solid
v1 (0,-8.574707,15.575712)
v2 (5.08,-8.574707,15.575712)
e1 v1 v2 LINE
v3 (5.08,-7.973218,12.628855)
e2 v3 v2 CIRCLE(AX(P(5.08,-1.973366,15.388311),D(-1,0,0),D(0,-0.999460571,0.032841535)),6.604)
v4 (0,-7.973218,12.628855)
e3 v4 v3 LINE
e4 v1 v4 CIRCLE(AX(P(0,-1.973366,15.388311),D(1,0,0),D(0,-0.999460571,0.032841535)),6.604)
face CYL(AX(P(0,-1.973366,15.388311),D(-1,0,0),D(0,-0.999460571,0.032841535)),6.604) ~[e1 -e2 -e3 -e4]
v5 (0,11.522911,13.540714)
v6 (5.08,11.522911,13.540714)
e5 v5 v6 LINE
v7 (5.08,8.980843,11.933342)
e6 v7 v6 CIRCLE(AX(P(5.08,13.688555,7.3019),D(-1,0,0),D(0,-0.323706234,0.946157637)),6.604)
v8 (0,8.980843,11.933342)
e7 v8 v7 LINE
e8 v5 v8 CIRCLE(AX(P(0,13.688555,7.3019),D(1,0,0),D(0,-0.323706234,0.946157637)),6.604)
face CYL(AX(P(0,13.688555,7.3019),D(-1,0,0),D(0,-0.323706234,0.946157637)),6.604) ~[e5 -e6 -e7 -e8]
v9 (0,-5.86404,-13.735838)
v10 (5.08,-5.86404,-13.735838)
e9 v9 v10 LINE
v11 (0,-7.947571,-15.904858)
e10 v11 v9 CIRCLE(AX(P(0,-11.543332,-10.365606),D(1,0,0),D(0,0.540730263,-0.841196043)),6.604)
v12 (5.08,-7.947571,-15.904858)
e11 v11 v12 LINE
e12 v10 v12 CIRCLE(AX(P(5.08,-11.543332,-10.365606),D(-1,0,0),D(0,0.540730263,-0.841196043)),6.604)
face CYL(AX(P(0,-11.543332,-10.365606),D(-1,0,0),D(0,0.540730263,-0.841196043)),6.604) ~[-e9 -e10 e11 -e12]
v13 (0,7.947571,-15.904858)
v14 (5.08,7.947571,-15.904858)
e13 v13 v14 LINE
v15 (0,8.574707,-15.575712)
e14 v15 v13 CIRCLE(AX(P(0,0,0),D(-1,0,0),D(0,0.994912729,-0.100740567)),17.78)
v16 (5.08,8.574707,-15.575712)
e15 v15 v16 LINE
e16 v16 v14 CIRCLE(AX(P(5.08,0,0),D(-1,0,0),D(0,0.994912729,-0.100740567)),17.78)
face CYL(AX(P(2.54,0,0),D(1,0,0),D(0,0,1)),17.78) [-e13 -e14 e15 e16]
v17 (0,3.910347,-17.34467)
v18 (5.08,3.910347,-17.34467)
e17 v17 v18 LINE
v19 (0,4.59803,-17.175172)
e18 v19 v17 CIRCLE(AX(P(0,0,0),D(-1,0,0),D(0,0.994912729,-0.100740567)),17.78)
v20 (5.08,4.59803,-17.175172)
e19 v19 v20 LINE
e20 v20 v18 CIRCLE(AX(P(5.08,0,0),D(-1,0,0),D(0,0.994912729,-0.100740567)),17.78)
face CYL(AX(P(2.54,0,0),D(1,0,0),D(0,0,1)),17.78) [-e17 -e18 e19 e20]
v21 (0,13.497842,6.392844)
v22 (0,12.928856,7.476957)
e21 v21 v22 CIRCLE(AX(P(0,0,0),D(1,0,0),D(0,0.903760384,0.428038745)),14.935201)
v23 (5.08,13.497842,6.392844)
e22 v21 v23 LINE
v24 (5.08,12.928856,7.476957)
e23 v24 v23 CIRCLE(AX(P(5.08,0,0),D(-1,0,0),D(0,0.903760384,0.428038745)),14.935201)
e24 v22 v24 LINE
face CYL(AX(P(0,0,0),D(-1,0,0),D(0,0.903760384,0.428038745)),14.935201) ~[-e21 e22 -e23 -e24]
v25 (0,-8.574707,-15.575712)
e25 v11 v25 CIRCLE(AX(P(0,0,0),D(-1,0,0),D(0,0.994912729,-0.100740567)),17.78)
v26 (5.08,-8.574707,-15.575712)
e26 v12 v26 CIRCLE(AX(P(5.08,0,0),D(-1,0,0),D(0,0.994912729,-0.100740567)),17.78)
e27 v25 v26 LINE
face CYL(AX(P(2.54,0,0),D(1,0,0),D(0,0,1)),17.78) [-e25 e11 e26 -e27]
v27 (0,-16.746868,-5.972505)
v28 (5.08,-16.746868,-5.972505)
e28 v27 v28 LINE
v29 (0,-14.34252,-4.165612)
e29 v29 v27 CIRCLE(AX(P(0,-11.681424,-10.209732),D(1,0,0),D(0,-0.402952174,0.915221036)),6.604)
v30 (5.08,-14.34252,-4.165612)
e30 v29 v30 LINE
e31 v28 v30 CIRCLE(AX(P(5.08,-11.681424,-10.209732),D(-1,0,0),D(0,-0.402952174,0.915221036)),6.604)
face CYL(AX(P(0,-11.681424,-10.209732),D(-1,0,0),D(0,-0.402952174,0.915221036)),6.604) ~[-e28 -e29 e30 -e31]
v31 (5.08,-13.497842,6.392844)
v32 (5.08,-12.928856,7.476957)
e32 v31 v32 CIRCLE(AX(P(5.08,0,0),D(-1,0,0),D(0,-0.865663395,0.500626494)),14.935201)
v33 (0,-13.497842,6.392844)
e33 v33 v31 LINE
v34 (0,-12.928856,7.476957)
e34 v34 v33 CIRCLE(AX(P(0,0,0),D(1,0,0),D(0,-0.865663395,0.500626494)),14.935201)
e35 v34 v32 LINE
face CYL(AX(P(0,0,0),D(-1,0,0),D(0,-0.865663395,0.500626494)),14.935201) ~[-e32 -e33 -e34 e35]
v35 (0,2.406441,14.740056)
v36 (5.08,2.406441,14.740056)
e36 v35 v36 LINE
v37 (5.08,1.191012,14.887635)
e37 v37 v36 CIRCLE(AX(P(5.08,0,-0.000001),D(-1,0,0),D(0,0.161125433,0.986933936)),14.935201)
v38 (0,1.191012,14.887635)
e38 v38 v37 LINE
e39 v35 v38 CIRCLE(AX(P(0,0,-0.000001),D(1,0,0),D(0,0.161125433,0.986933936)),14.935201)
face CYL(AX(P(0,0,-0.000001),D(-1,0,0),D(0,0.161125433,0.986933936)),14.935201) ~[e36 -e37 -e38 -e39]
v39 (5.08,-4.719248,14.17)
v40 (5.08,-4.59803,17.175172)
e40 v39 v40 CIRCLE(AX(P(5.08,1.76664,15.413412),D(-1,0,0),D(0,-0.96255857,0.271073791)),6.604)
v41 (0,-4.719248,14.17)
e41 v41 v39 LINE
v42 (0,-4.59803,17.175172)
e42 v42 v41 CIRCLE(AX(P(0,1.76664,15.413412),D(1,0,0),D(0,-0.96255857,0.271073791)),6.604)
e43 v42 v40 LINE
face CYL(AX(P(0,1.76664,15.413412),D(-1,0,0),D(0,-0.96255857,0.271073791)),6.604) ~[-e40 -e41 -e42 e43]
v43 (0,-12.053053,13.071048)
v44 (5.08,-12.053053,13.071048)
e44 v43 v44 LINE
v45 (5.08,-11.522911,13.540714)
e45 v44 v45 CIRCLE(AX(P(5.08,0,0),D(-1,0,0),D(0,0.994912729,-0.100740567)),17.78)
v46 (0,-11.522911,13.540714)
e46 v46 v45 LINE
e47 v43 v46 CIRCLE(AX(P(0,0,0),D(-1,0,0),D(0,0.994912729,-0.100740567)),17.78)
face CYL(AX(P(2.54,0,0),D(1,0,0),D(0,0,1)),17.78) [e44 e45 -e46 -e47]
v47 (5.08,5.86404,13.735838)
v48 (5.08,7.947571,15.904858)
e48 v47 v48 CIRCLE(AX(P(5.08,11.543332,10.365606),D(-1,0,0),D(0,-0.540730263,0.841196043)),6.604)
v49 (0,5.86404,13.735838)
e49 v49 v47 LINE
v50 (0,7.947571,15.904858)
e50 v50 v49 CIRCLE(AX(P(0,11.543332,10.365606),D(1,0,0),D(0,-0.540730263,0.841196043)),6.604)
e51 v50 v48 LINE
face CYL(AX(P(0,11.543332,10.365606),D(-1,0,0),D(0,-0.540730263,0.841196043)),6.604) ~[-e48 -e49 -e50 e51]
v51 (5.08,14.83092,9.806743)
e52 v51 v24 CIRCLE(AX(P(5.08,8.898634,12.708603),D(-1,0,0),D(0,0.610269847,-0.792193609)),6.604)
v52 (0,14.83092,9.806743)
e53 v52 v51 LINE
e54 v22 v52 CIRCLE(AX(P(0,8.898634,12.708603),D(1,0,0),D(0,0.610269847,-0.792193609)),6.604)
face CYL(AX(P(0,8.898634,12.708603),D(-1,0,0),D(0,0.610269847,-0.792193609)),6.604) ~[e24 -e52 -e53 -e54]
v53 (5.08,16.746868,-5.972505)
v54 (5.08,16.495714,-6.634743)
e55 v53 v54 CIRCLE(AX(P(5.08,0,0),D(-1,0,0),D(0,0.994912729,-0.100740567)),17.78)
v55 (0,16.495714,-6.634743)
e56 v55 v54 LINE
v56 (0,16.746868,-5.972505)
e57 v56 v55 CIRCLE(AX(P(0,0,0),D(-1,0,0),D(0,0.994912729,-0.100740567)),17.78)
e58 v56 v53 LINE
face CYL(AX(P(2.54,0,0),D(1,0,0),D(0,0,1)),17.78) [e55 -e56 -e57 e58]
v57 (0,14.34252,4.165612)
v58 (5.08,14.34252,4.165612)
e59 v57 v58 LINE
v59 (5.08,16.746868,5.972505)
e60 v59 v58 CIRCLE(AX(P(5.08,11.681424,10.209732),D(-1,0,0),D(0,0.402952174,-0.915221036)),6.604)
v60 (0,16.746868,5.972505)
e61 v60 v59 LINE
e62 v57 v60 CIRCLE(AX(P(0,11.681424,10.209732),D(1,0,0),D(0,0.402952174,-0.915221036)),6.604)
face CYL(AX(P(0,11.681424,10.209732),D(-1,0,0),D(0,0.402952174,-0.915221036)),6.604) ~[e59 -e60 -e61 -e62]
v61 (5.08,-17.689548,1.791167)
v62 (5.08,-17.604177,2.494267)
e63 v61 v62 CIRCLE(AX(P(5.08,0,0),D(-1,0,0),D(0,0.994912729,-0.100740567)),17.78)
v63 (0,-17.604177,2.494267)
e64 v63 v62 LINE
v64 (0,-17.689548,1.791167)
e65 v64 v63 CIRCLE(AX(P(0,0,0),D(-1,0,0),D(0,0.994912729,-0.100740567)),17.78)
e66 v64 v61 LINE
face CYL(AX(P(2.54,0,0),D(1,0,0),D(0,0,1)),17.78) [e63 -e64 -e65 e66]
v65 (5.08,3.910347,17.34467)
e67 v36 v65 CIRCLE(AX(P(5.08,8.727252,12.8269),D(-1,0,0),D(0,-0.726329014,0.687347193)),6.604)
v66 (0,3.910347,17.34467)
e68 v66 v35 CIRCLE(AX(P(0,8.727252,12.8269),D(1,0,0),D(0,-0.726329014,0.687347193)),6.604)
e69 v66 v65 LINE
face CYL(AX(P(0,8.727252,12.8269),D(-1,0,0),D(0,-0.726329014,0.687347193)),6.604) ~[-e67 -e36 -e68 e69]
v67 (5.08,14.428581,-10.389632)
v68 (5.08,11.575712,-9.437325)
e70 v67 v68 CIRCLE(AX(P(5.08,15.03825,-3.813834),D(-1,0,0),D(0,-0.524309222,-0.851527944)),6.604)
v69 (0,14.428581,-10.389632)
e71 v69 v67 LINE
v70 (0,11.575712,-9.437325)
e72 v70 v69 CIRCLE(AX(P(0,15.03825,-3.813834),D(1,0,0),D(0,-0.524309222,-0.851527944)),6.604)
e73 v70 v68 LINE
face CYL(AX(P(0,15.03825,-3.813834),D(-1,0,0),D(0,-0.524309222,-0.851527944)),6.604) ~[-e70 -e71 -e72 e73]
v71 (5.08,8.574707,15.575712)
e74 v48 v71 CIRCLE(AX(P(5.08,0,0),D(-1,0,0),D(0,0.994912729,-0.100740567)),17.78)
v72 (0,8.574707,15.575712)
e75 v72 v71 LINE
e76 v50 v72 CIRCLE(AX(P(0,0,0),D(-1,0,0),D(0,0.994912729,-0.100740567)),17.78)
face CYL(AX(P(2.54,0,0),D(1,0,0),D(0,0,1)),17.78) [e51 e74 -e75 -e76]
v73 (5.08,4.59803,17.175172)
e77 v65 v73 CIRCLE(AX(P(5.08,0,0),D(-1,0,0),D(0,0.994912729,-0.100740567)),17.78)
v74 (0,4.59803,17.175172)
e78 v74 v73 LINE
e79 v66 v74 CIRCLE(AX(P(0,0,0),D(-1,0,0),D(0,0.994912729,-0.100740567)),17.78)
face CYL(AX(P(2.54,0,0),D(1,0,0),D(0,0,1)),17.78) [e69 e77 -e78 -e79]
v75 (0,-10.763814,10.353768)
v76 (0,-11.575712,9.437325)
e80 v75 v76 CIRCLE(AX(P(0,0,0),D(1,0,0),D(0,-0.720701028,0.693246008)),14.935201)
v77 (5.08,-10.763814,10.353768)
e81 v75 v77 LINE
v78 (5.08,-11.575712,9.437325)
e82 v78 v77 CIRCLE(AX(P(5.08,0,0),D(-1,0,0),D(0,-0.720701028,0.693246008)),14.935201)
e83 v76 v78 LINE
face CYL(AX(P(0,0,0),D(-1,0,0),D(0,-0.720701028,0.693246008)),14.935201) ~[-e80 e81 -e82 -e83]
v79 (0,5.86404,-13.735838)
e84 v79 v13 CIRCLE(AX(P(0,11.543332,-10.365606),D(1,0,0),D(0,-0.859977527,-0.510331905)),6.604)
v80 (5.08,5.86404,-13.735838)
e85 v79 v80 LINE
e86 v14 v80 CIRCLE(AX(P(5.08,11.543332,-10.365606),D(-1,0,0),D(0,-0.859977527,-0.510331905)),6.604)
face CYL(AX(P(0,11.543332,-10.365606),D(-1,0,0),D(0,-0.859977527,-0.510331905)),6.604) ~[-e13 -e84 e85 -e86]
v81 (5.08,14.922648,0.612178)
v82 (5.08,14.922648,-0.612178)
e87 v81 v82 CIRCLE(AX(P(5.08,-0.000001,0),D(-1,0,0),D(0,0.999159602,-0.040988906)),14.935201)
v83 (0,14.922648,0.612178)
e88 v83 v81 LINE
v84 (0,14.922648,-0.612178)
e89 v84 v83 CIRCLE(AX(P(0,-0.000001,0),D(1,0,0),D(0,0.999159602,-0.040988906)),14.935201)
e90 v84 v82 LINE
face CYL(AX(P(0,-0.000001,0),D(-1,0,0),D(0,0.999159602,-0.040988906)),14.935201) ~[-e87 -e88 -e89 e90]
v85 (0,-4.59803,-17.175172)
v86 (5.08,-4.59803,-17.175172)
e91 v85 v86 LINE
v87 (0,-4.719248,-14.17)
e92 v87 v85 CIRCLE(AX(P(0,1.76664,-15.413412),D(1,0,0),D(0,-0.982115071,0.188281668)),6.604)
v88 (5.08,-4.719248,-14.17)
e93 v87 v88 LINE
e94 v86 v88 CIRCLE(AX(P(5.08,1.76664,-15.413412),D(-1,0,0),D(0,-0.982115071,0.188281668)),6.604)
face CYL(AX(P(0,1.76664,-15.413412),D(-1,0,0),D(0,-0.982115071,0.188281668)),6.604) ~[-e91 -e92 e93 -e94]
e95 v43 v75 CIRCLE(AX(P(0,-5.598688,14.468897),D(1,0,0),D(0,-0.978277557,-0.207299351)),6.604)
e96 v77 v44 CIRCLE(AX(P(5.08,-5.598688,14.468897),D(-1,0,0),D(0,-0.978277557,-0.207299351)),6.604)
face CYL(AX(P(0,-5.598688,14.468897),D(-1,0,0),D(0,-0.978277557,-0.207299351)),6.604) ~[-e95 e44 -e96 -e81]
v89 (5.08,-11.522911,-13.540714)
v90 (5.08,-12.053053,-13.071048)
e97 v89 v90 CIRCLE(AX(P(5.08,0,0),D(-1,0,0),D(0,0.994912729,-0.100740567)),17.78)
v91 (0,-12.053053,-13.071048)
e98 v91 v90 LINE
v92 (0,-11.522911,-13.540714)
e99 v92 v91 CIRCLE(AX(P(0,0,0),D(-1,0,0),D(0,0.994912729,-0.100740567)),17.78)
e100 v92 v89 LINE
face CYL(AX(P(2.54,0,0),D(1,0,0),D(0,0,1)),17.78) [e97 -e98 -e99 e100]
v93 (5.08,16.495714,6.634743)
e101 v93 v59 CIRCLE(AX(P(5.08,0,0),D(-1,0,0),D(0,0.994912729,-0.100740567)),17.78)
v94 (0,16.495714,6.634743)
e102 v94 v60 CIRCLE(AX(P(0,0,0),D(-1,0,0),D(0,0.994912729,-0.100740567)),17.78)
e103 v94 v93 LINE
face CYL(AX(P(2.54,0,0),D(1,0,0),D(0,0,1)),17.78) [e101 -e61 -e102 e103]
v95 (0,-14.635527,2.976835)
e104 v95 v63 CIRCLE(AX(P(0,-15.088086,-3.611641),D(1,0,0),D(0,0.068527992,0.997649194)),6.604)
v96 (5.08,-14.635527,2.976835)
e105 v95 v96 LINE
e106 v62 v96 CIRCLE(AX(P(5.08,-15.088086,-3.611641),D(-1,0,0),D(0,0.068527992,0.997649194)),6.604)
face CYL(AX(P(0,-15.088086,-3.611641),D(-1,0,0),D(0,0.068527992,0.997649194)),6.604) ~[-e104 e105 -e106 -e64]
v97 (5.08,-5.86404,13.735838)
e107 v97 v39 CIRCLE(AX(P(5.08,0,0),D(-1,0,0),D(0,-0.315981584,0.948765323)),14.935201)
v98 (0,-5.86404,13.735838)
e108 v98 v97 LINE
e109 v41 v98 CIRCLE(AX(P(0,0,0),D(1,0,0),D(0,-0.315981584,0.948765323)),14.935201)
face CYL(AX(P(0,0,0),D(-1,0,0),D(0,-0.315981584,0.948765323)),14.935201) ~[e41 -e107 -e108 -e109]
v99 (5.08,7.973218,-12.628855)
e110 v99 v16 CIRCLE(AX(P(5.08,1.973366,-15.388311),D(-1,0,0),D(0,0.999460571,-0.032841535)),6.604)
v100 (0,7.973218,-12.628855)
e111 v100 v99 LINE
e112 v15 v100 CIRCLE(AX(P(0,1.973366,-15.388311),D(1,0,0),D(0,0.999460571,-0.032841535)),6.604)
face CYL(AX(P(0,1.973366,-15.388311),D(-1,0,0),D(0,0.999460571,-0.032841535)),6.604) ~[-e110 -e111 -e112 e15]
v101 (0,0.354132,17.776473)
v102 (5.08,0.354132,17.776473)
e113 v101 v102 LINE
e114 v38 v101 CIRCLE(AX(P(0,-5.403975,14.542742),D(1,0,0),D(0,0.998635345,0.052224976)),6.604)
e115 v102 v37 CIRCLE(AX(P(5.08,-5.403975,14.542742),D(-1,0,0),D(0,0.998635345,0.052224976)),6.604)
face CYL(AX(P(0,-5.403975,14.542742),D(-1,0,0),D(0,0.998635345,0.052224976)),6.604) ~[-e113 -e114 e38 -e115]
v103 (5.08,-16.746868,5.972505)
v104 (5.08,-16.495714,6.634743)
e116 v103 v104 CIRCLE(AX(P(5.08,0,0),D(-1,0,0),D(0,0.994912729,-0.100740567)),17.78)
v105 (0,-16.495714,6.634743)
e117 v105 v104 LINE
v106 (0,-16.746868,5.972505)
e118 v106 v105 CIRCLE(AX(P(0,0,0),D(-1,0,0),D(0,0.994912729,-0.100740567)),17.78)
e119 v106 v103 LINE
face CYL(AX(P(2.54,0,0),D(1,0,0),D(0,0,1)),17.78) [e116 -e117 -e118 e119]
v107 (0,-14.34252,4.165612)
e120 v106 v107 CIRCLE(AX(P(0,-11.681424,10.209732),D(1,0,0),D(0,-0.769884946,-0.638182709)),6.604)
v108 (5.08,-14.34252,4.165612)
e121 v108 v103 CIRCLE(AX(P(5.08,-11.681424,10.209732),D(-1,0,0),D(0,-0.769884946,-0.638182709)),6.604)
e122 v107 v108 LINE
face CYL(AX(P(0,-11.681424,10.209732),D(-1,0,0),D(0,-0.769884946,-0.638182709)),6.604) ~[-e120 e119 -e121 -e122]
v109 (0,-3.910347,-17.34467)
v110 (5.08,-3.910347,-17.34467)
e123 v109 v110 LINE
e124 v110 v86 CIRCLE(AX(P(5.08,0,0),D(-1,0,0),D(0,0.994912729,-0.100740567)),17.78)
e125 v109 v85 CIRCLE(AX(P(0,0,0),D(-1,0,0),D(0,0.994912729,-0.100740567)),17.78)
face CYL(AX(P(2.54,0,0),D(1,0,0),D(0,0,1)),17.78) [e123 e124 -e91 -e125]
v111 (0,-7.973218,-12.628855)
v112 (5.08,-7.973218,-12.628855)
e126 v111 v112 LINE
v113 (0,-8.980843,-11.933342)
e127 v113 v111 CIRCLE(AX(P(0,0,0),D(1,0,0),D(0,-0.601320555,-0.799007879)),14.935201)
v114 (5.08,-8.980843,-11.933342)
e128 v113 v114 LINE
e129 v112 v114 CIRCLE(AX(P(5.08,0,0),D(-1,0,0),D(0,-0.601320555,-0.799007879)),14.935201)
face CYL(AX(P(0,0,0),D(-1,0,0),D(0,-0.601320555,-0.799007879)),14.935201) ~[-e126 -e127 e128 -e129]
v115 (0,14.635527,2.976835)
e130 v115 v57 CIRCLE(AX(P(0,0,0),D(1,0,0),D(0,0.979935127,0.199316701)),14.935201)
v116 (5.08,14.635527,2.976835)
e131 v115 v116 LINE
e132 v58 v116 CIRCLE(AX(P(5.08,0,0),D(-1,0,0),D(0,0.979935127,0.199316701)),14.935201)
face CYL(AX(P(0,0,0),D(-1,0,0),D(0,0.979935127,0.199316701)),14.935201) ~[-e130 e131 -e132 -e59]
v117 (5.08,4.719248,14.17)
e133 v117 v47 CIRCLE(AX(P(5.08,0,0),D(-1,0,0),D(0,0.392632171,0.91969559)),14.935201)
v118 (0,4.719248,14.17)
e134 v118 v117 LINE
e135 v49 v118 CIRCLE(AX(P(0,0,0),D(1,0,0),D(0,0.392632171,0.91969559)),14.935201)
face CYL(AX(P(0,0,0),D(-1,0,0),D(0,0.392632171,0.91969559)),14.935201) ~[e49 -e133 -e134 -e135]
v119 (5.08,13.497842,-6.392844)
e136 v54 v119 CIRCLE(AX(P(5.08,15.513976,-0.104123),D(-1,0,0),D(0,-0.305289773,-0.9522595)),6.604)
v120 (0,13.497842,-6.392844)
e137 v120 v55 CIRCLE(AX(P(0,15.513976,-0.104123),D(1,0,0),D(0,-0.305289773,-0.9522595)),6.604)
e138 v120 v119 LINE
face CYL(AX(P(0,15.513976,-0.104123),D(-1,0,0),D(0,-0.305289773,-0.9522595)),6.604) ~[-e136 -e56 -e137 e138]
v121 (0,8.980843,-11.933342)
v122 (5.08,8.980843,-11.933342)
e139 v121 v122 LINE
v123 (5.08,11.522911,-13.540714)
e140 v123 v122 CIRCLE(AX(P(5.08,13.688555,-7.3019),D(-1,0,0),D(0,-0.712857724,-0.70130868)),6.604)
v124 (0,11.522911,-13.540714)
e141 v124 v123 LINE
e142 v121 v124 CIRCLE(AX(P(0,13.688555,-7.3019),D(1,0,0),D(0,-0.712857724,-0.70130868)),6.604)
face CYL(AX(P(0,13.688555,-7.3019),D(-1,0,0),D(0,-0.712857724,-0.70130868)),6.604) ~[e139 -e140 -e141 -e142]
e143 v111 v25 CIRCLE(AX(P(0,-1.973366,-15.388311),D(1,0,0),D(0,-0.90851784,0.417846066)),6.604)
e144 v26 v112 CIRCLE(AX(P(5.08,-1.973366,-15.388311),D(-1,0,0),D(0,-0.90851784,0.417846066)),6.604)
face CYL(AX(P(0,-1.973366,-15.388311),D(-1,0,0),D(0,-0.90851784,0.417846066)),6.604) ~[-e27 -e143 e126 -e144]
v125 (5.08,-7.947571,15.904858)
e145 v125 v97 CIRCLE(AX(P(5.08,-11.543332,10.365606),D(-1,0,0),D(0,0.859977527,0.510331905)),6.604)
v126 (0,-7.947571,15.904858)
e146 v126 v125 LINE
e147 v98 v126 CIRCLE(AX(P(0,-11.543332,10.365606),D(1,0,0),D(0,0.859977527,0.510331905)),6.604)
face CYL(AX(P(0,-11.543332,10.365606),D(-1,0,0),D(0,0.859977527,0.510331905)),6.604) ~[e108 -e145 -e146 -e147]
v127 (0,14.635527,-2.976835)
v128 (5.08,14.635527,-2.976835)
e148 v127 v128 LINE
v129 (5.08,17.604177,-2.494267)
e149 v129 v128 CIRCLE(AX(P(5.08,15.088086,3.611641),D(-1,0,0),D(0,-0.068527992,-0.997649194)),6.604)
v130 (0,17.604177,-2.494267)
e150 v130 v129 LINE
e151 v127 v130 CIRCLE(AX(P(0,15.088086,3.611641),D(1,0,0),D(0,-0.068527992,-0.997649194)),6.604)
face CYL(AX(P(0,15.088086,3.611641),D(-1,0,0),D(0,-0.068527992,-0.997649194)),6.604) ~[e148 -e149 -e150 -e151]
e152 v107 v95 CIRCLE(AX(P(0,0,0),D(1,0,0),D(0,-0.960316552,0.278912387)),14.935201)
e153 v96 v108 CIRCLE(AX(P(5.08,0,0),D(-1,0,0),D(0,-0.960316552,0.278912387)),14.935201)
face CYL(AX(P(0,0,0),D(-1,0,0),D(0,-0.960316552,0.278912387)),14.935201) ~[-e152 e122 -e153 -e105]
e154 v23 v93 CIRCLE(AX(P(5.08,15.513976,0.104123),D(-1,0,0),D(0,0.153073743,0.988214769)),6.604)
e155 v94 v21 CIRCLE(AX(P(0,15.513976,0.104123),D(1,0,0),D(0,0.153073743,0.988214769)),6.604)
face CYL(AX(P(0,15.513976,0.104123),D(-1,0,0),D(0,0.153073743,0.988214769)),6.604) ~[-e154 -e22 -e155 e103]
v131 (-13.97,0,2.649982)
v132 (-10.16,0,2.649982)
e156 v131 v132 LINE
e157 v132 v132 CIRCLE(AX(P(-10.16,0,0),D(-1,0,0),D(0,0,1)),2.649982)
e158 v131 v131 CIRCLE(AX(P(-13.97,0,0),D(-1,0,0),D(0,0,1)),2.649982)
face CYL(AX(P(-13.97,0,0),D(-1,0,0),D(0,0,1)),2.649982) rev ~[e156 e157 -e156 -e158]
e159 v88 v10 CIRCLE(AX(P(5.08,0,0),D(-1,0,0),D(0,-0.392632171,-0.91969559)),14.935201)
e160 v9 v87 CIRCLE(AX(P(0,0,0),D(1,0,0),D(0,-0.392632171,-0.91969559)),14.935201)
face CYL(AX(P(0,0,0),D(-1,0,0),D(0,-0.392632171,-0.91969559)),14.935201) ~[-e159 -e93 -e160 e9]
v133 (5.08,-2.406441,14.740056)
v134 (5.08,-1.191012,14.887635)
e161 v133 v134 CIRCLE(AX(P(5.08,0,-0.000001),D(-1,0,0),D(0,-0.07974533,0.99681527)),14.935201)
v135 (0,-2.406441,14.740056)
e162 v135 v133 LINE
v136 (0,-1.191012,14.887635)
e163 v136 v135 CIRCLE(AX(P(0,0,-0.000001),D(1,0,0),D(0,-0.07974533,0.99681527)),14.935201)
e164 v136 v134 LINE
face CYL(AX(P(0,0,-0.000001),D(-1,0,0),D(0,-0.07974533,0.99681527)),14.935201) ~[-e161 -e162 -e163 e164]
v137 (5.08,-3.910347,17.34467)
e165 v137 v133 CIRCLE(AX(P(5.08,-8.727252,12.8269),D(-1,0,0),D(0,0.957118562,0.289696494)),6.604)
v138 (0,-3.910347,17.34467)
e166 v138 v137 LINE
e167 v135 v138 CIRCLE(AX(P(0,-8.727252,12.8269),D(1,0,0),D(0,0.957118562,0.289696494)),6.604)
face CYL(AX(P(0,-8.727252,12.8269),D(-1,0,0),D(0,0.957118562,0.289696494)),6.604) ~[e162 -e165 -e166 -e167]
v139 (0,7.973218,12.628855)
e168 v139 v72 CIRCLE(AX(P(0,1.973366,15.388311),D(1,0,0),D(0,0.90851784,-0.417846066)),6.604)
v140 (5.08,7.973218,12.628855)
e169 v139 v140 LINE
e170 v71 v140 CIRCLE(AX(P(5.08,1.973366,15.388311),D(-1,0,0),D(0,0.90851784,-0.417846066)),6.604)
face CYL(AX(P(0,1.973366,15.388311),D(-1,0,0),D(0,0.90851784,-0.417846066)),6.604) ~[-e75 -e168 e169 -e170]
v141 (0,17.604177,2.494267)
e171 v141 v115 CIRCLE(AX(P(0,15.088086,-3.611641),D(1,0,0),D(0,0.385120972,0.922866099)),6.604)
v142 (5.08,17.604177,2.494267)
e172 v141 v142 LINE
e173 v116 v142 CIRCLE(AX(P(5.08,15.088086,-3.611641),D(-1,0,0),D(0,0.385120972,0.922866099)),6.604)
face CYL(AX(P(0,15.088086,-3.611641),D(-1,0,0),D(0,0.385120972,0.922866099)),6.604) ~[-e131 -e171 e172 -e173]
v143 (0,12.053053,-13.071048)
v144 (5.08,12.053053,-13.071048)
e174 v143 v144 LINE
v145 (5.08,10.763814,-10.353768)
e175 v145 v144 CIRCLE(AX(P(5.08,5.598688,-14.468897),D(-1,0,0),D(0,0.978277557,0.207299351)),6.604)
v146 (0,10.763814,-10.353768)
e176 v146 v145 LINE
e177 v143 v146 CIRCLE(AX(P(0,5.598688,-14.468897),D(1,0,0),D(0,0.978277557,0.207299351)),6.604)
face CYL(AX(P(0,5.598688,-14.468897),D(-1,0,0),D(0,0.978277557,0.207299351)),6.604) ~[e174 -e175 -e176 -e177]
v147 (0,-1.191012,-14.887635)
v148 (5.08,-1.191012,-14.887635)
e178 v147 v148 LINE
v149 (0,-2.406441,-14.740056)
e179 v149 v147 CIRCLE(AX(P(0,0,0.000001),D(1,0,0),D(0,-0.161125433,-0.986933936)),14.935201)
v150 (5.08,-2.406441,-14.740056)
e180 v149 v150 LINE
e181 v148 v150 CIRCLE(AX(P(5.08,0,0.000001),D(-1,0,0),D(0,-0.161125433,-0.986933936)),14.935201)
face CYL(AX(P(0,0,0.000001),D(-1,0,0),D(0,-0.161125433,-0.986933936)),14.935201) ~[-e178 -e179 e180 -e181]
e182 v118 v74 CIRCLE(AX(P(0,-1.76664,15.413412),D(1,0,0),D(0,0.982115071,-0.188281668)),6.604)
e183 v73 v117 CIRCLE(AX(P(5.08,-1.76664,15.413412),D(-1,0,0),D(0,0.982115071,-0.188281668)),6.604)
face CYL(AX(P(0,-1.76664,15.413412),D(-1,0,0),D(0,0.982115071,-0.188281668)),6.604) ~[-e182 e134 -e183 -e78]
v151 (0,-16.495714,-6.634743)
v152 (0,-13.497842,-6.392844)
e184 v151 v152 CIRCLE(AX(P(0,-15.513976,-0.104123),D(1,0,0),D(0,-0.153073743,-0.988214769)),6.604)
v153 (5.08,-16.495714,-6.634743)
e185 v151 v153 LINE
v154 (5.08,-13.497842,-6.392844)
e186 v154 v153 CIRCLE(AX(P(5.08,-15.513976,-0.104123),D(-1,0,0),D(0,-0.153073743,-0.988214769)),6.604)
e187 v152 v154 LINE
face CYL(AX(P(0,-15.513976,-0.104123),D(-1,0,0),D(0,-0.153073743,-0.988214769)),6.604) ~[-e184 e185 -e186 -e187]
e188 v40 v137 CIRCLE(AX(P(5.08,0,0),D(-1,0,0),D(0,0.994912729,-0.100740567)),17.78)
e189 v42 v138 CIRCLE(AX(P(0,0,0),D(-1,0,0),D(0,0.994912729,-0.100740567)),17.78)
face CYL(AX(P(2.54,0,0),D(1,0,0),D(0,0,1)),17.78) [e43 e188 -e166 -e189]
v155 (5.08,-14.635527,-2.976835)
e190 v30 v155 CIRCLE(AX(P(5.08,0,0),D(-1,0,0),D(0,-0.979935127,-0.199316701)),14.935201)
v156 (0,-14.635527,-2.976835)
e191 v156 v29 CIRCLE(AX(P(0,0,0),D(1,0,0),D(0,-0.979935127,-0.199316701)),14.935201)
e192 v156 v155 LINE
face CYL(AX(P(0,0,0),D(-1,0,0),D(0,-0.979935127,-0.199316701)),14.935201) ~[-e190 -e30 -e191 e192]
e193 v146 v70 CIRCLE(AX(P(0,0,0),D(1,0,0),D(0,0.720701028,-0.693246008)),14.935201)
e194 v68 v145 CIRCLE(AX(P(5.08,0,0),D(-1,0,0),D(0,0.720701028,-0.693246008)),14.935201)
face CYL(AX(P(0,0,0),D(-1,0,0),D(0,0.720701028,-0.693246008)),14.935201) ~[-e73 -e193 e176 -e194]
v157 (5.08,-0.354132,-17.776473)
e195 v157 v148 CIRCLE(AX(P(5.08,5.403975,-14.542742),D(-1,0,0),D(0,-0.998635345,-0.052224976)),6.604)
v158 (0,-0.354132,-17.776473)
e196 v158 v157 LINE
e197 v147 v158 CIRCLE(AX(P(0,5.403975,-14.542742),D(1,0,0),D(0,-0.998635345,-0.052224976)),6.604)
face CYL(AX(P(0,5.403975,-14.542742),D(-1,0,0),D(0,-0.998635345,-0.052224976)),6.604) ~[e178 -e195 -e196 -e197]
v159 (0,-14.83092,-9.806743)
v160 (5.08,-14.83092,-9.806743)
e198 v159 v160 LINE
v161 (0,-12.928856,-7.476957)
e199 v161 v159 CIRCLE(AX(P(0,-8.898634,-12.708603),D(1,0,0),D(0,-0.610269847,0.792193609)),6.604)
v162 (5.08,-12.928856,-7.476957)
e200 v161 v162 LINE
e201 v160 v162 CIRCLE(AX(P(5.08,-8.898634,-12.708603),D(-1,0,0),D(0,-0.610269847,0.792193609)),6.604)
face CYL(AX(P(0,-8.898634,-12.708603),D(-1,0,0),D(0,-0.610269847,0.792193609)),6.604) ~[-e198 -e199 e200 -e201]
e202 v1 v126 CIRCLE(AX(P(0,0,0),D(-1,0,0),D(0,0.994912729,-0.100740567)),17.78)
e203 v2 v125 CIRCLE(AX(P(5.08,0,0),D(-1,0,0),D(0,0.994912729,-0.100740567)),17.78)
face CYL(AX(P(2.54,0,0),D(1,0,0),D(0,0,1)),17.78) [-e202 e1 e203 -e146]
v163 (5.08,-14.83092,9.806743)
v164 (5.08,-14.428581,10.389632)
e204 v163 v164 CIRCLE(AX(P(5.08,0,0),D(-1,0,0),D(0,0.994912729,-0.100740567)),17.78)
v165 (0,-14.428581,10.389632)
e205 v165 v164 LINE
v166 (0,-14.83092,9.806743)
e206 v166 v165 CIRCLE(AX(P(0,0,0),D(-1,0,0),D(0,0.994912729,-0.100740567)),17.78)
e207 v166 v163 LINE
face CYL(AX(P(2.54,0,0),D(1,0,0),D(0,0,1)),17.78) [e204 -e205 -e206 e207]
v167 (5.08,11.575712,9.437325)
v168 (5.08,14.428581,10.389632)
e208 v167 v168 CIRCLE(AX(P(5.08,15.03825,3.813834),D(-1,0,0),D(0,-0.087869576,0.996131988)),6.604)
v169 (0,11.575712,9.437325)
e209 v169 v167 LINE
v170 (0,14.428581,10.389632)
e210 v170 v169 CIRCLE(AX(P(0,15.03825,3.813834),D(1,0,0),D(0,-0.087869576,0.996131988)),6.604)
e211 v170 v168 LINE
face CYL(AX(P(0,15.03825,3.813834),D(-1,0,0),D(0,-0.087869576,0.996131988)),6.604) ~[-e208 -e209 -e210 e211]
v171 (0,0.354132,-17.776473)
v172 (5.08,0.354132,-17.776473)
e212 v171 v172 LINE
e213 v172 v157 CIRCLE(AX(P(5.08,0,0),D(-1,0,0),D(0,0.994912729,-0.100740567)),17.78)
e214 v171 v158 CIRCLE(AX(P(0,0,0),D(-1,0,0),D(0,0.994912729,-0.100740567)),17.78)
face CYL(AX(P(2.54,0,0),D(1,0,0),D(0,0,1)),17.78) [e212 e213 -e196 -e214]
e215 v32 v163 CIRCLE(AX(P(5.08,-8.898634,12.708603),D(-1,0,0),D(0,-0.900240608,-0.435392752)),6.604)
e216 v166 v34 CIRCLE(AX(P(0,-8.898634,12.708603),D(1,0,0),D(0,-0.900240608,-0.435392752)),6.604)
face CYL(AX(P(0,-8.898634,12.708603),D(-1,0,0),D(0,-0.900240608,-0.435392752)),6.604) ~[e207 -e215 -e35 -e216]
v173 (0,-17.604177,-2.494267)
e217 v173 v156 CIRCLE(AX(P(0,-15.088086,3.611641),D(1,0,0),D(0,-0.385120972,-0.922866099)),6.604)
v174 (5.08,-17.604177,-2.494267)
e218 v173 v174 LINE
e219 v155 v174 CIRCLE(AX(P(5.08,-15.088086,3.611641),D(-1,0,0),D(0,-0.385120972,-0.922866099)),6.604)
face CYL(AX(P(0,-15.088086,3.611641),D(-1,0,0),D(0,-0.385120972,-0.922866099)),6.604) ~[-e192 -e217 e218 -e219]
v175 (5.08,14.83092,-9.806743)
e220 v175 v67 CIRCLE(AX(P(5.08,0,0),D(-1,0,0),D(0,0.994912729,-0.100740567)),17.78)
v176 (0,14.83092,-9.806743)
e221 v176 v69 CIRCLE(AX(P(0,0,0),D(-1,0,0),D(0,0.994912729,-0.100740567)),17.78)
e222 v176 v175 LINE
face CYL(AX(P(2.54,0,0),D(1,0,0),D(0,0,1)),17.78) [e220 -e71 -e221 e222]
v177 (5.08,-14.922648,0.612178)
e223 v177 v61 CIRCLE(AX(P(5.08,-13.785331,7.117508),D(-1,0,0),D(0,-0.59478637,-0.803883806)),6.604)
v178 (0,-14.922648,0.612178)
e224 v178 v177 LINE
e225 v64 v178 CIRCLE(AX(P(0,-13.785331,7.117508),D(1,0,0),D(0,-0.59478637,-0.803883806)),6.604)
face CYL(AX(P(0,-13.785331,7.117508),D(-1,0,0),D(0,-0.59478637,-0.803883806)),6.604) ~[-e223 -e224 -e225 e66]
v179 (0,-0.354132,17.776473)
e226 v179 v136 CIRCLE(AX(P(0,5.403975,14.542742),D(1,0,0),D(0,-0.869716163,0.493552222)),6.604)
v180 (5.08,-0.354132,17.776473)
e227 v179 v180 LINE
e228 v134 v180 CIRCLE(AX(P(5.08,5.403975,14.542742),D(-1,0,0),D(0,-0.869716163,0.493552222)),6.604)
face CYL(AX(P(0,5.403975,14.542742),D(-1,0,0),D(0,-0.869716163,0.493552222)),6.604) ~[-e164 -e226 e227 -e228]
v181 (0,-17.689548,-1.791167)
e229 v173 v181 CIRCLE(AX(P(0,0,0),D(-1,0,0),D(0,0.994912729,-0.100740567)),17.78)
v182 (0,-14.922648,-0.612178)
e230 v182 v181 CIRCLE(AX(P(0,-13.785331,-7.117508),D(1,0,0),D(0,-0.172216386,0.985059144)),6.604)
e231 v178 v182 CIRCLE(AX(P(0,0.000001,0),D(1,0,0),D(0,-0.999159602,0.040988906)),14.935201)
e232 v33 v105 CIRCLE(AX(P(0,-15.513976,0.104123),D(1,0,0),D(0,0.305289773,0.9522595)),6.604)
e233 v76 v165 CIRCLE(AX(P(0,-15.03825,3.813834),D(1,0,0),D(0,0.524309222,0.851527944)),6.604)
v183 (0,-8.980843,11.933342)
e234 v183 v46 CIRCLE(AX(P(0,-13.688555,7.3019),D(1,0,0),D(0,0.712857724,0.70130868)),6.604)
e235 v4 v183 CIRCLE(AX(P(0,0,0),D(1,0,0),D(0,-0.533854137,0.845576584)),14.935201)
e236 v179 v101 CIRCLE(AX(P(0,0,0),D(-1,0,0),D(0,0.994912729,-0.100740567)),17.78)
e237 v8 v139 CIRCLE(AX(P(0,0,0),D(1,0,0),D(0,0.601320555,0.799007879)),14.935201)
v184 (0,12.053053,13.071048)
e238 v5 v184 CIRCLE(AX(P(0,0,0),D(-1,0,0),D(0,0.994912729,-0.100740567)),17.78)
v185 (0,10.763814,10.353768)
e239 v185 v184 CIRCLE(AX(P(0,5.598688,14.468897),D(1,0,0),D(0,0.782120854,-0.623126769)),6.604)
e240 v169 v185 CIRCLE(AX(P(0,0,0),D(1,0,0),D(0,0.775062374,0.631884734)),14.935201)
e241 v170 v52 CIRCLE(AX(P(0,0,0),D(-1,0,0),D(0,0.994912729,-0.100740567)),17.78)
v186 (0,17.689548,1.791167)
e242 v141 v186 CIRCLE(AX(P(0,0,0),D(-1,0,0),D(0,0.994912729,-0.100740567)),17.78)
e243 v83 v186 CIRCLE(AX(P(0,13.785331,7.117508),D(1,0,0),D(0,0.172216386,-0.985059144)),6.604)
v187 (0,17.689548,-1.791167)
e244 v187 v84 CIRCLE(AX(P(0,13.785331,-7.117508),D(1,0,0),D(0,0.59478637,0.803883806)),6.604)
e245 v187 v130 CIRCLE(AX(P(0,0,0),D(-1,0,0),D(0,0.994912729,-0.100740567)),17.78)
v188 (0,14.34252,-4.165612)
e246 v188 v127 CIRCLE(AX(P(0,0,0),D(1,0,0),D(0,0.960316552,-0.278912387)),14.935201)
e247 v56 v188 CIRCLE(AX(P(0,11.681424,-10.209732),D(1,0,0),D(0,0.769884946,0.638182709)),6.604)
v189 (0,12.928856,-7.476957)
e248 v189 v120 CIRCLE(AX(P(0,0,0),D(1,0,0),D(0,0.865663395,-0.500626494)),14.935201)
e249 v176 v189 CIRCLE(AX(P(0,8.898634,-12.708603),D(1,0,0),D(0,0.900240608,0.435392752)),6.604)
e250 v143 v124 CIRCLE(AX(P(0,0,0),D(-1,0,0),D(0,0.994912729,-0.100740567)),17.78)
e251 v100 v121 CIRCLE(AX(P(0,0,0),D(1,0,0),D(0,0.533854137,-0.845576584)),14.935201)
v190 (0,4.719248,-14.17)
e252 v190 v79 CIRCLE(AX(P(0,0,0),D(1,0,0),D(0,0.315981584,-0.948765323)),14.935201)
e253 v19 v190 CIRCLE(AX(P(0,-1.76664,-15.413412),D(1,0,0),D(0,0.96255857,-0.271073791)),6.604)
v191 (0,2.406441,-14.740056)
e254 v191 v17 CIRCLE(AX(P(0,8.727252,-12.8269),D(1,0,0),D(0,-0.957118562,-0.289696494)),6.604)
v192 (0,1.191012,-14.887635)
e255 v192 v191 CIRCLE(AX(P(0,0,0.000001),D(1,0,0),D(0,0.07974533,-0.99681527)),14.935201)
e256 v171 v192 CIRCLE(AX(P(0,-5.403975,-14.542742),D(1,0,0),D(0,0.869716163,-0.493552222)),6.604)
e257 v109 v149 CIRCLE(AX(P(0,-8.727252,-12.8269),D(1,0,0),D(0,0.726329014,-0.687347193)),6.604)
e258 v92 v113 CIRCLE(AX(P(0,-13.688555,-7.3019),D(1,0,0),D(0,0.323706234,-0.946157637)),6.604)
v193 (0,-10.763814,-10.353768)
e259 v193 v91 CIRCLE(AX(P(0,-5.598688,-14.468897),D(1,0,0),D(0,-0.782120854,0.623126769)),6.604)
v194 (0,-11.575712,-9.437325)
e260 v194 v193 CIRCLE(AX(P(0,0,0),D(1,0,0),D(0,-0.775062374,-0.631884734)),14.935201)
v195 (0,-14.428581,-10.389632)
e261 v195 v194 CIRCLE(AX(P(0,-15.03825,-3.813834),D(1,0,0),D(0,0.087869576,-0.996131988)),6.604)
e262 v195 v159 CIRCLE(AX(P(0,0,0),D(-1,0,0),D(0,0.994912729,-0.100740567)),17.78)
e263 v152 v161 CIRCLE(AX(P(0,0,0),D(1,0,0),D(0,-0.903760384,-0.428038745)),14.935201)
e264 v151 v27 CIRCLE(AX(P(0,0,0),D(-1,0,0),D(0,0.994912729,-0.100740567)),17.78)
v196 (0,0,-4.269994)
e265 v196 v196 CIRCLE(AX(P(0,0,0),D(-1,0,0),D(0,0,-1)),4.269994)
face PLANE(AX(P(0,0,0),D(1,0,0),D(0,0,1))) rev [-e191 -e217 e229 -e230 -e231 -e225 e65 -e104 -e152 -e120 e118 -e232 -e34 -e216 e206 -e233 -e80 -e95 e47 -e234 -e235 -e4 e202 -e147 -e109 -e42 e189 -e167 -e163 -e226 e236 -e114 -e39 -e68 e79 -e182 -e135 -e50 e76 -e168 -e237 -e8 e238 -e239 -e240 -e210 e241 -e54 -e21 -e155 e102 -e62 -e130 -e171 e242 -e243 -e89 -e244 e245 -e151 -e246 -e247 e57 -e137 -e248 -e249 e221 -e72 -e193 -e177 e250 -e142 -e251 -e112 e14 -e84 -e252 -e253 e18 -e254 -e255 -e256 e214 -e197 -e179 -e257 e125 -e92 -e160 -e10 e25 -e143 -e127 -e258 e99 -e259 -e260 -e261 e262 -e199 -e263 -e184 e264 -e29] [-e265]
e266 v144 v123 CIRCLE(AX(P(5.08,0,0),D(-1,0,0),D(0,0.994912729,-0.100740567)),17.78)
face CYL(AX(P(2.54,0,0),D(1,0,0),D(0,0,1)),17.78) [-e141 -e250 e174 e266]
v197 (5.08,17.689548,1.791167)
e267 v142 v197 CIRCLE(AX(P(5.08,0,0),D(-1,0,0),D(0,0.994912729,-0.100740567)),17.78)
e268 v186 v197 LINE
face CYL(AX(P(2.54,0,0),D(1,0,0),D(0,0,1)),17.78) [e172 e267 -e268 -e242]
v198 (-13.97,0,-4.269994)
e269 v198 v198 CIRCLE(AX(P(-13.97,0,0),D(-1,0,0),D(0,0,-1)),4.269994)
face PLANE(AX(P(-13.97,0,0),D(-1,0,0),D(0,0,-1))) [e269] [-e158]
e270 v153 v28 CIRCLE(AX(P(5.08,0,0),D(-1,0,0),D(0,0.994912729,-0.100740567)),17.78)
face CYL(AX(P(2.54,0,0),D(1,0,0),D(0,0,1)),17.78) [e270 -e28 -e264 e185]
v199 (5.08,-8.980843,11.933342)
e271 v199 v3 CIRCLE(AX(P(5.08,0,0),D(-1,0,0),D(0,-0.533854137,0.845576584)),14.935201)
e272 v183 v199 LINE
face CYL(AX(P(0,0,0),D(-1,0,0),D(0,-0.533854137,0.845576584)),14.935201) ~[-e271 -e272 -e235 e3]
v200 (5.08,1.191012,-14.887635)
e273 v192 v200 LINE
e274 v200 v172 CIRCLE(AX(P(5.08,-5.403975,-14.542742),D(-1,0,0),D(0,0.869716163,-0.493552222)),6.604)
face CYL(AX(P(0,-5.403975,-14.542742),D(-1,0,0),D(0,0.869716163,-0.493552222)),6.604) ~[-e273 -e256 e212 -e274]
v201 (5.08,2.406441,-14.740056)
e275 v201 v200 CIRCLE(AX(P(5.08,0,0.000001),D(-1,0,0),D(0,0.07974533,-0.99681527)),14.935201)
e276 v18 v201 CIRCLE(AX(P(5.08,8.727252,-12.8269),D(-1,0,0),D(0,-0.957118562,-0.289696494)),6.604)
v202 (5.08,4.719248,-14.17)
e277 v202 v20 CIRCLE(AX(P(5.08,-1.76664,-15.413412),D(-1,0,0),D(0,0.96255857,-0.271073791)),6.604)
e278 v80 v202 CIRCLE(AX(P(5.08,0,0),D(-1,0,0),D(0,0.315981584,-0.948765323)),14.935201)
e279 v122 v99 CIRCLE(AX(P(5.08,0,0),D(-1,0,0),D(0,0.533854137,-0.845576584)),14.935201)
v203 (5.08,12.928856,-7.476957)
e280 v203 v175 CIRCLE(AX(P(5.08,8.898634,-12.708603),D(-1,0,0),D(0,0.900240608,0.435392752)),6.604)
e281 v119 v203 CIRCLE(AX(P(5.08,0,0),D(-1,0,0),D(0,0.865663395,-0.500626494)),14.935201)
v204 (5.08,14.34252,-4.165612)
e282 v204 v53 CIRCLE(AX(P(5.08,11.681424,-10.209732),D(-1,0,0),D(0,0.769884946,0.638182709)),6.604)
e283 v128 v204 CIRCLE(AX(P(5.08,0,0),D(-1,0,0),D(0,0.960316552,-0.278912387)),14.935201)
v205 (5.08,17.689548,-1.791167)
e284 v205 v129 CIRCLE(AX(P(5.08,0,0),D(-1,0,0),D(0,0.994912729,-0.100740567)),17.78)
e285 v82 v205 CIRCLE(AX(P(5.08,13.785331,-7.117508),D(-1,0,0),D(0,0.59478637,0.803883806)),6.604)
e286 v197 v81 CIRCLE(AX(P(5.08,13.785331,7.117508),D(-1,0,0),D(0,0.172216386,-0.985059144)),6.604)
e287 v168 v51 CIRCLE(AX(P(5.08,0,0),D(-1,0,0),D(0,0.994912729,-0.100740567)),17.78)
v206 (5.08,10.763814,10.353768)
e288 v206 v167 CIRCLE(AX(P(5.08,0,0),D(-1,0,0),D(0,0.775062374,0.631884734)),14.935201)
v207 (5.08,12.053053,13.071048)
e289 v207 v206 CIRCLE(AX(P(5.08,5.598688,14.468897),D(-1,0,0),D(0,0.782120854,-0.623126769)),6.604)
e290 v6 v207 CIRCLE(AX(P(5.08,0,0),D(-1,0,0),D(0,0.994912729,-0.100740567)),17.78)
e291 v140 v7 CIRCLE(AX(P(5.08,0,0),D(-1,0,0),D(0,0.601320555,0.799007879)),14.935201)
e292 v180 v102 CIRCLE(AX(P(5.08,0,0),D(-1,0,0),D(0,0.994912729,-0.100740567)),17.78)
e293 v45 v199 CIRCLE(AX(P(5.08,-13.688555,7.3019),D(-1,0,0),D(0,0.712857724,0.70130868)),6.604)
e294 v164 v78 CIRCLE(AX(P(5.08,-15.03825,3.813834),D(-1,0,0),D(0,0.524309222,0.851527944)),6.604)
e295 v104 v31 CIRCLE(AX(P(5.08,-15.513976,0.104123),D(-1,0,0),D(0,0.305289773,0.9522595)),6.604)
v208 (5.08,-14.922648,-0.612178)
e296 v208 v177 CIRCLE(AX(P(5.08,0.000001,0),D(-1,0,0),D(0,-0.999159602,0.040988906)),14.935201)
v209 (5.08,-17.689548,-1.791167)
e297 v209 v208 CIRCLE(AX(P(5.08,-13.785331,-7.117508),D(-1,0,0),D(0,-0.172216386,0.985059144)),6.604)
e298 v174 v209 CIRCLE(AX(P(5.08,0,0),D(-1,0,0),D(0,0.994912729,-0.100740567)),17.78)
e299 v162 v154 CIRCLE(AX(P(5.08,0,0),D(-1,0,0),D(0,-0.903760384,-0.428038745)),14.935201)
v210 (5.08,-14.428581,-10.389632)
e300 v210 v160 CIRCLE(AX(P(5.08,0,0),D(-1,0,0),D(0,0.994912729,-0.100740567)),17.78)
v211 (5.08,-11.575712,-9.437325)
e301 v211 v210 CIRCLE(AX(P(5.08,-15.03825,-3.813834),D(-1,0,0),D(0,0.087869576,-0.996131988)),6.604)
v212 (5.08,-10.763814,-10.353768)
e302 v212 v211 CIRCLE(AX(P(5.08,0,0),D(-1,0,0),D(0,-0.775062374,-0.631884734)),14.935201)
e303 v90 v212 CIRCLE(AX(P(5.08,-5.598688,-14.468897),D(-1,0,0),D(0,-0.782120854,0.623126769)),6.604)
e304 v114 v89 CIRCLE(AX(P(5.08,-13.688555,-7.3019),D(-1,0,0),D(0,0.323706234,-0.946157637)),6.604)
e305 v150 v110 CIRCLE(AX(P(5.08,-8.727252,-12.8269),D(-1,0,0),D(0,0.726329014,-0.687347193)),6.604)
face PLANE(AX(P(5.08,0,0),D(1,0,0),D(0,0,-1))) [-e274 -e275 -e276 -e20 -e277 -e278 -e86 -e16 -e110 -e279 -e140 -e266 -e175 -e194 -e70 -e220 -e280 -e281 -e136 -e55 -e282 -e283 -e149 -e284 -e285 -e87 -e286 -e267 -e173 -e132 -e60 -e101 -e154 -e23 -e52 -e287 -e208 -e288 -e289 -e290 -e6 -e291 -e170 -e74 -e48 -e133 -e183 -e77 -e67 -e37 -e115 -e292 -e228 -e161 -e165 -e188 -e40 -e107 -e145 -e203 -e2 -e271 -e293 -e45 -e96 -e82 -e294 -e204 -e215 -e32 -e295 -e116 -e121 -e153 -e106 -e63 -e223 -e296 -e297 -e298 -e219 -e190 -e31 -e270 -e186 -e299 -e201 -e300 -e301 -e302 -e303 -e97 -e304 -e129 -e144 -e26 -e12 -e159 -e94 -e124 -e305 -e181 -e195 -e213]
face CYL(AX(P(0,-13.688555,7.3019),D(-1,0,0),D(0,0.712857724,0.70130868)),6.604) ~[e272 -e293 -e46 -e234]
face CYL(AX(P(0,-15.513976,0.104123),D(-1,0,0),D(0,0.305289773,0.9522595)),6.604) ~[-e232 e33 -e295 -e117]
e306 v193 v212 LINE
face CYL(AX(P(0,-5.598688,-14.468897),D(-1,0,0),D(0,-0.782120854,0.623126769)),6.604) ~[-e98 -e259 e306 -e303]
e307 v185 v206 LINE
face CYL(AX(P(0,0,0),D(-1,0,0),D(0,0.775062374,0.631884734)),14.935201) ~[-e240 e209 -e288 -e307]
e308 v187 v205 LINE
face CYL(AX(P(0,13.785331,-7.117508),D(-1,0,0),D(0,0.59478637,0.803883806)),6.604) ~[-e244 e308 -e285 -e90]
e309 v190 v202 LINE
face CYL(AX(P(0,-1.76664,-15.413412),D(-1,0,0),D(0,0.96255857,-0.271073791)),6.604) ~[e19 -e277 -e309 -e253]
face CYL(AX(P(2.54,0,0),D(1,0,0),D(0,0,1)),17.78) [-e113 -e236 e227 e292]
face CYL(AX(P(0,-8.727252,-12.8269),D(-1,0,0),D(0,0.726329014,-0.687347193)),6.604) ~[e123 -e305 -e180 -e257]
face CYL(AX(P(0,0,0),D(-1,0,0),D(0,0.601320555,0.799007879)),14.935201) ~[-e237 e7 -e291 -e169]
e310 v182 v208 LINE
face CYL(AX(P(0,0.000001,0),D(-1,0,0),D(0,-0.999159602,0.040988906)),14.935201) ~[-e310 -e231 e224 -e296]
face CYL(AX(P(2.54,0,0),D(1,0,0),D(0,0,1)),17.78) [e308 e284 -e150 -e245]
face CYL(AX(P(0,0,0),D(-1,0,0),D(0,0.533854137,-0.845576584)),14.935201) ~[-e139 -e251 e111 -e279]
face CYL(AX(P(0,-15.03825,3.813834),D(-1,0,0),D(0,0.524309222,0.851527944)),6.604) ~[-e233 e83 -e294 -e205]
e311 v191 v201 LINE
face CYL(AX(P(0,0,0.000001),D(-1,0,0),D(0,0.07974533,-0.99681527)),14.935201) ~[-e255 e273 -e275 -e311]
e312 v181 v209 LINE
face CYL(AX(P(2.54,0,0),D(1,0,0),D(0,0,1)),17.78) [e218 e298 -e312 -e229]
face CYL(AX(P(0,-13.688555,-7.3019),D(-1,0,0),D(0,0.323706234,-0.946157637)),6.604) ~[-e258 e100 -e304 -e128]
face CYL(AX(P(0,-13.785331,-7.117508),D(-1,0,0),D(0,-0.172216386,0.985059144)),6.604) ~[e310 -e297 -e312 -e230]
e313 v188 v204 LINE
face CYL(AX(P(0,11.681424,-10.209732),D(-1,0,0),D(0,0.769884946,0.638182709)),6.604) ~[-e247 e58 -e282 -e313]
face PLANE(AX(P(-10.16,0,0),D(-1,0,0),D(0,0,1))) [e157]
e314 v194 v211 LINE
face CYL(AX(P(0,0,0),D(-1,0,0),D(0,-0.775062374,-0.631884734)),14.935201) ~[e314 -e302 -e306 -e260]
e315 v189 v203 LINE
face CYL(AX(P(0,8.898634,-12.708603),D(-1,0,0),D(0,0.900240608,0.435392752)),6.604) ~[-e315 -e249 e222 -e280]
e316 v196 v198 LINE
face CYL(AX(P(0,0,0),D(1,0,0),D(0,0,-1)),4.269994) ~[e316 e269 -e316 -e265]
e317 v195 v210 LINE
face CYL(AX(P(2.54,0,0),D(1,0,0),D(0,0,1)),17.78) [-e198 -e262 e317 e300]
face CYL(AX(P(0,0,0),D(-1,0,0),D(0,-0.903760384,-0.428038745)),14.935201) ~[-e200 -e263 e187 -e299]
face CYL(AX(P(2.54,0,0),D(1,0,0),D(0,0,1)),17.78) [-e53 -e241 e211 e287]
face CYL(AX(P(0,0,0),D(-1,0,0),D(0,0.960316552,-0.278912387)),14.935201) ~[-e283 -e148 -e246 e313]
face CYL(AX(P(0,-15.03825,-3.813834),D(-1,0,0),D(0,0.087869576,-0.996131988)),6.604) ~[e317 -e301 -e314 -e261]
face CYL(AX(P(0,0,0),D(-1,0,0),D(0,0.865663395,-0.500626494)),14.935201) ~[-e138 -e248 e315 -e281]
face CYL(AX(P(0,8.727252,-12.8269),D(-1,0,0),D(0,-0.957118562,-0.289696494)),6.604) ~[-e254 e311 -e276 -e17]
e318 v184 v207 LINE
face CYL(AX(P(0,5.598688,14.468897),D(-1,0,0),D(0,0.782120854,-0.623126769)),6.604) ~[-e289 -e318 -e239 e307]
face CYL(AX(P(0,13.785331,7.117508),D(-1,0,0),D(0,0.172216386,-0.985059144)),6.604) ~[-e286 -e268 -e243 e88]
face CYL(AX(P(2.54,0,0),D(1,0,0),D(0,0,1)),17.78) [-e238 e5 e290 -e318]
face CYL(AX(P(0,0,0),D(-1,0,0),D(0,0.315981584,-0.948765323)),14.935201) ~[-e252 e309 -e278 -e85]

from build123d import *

# Parameters (mm, degrees)
BASPROSKE_W         = 5.08
BASPROSKE_H         = 17.78
TOOTHCUT_DEPTH      = 26.652742543
TEETHCUTS_COUNT     = 26
TEETHCUTS_ANGLE     = 346.153846154
BORSKE_R            = 0.99949
BORE_DEPTH          = 50.8000508
SKETCH1_R           = 0.99949
BOSS_EXTRUDE1_DEPTH = 5.08
SKETCH2_R           = 4.269994
BOSS_EXTRUDE2_DEPTH = 13.97
SKETCH3_R           = 2.649982
CUT_EXTRUDE1_DEPTH  = 3.81


with BuildPart() as part:
    # BasProSke → Base-Revolve (revolve)
    with BuildSketch(Plane(origin=(0, 0, 0), x_dir=(1, 0, 0), z_dir=(0, 1, 0)), mode=Mode.PRIVATE) as base_revolve_sk:
        with Locations((2.54, 8.89)):
            Rectangle(BASPROSKE_W, BASPROSKE_H)
    revolve(base_revolve_sk.sketch.rotate(Axis((-10, 0, 0), (1, 0, 0)), 180), axis=Axis((-10, 0, 0), (1, 0, 0)))

    # TooCutSke → ToothCut (cut, through all)
    with BuildSketch(Plane(origin=(0, 0, 0), x_dir=(0, 0, -1), z_dir=(1, 0, 0))):
        with BuildLine():
            ThreePointArc((0.612177536, 14.922648482), (0, 14.9352), (-0.612177536, 14.922648482))
            ThreePointArc((-0.612177536, 14.922648482), (-1.047858816, 16.387671439), (-1.808659463, 17.713300655))
            ThreePointArc((-1.808659463, 17.713300655), (0, 17.8054), (1.808659463, 17.713300655))
            ThreePointArc((1.808659463, 17.713300655), (1.047858816, 16.387671439), (0.612177536, 14.922648482))
        make_face()
    toothcut = extrude(amount=TOOTHCUT_DEPTH, mode=Mode.SUBTRACT)

    # TeethCuts: ToothCut ×26 about axis
    teethcuts_axis = Axis((-10, 0, 0), (1, 0, 0))
    for i in range(1, TEETHCUTS_COUNT):
        add(toothcut.rotate(teethcuts_axis, i * TEETHCUTS_ANGLE / (TEETHCUTS_COUNT - 1)), mode=Mode.SUBTRACT)

    # BorSke → Bore (cut, symmetric)
    with BuildSketch(Plane(origin=(0, 0, 0), x_dir=(0, 0, -1), z_dir=(1, 0, 0))):
        with Locations(Location((0, 0, 0), (0, 0, 180))):
            Circle(BORSKE_R)
    extrude(amount=BORE_DEPTH, both=True, mode=Mode.SUBTRACT)

    # Sketch1 → Boss-Extrude1 (add)
    with BuildSketch(Plane(origin=(5.08, 0, 0), x_dir=(0, 0, -1), z_dir=(1, 0, 0))):
        Circle(SKETCH1_R)
    extrude(amount=-BOSS_EXTRUDE1_DEPTH)

    # Sketch2 → Boss-Extrude2 (add)
    with BuildSketch(Plane.ZY):
        with Locations(Location((0, 0, 0), (0, 0, 180))):
            Circle(SKETCH2_R)
    extrude(amount=BOSS_EXTRUDE2_DEPTH)

    # Sketch3 → Cut-Extrude1 (cut)
    with BuildSketch(Plane.ZY.offset(13.97)):
        Circle(SKETCH3_R)
    extrude(amount=-CUT_EXTRUDE1_DEPTH, mode=Mode.SUBTRACT)


solid = part.part
